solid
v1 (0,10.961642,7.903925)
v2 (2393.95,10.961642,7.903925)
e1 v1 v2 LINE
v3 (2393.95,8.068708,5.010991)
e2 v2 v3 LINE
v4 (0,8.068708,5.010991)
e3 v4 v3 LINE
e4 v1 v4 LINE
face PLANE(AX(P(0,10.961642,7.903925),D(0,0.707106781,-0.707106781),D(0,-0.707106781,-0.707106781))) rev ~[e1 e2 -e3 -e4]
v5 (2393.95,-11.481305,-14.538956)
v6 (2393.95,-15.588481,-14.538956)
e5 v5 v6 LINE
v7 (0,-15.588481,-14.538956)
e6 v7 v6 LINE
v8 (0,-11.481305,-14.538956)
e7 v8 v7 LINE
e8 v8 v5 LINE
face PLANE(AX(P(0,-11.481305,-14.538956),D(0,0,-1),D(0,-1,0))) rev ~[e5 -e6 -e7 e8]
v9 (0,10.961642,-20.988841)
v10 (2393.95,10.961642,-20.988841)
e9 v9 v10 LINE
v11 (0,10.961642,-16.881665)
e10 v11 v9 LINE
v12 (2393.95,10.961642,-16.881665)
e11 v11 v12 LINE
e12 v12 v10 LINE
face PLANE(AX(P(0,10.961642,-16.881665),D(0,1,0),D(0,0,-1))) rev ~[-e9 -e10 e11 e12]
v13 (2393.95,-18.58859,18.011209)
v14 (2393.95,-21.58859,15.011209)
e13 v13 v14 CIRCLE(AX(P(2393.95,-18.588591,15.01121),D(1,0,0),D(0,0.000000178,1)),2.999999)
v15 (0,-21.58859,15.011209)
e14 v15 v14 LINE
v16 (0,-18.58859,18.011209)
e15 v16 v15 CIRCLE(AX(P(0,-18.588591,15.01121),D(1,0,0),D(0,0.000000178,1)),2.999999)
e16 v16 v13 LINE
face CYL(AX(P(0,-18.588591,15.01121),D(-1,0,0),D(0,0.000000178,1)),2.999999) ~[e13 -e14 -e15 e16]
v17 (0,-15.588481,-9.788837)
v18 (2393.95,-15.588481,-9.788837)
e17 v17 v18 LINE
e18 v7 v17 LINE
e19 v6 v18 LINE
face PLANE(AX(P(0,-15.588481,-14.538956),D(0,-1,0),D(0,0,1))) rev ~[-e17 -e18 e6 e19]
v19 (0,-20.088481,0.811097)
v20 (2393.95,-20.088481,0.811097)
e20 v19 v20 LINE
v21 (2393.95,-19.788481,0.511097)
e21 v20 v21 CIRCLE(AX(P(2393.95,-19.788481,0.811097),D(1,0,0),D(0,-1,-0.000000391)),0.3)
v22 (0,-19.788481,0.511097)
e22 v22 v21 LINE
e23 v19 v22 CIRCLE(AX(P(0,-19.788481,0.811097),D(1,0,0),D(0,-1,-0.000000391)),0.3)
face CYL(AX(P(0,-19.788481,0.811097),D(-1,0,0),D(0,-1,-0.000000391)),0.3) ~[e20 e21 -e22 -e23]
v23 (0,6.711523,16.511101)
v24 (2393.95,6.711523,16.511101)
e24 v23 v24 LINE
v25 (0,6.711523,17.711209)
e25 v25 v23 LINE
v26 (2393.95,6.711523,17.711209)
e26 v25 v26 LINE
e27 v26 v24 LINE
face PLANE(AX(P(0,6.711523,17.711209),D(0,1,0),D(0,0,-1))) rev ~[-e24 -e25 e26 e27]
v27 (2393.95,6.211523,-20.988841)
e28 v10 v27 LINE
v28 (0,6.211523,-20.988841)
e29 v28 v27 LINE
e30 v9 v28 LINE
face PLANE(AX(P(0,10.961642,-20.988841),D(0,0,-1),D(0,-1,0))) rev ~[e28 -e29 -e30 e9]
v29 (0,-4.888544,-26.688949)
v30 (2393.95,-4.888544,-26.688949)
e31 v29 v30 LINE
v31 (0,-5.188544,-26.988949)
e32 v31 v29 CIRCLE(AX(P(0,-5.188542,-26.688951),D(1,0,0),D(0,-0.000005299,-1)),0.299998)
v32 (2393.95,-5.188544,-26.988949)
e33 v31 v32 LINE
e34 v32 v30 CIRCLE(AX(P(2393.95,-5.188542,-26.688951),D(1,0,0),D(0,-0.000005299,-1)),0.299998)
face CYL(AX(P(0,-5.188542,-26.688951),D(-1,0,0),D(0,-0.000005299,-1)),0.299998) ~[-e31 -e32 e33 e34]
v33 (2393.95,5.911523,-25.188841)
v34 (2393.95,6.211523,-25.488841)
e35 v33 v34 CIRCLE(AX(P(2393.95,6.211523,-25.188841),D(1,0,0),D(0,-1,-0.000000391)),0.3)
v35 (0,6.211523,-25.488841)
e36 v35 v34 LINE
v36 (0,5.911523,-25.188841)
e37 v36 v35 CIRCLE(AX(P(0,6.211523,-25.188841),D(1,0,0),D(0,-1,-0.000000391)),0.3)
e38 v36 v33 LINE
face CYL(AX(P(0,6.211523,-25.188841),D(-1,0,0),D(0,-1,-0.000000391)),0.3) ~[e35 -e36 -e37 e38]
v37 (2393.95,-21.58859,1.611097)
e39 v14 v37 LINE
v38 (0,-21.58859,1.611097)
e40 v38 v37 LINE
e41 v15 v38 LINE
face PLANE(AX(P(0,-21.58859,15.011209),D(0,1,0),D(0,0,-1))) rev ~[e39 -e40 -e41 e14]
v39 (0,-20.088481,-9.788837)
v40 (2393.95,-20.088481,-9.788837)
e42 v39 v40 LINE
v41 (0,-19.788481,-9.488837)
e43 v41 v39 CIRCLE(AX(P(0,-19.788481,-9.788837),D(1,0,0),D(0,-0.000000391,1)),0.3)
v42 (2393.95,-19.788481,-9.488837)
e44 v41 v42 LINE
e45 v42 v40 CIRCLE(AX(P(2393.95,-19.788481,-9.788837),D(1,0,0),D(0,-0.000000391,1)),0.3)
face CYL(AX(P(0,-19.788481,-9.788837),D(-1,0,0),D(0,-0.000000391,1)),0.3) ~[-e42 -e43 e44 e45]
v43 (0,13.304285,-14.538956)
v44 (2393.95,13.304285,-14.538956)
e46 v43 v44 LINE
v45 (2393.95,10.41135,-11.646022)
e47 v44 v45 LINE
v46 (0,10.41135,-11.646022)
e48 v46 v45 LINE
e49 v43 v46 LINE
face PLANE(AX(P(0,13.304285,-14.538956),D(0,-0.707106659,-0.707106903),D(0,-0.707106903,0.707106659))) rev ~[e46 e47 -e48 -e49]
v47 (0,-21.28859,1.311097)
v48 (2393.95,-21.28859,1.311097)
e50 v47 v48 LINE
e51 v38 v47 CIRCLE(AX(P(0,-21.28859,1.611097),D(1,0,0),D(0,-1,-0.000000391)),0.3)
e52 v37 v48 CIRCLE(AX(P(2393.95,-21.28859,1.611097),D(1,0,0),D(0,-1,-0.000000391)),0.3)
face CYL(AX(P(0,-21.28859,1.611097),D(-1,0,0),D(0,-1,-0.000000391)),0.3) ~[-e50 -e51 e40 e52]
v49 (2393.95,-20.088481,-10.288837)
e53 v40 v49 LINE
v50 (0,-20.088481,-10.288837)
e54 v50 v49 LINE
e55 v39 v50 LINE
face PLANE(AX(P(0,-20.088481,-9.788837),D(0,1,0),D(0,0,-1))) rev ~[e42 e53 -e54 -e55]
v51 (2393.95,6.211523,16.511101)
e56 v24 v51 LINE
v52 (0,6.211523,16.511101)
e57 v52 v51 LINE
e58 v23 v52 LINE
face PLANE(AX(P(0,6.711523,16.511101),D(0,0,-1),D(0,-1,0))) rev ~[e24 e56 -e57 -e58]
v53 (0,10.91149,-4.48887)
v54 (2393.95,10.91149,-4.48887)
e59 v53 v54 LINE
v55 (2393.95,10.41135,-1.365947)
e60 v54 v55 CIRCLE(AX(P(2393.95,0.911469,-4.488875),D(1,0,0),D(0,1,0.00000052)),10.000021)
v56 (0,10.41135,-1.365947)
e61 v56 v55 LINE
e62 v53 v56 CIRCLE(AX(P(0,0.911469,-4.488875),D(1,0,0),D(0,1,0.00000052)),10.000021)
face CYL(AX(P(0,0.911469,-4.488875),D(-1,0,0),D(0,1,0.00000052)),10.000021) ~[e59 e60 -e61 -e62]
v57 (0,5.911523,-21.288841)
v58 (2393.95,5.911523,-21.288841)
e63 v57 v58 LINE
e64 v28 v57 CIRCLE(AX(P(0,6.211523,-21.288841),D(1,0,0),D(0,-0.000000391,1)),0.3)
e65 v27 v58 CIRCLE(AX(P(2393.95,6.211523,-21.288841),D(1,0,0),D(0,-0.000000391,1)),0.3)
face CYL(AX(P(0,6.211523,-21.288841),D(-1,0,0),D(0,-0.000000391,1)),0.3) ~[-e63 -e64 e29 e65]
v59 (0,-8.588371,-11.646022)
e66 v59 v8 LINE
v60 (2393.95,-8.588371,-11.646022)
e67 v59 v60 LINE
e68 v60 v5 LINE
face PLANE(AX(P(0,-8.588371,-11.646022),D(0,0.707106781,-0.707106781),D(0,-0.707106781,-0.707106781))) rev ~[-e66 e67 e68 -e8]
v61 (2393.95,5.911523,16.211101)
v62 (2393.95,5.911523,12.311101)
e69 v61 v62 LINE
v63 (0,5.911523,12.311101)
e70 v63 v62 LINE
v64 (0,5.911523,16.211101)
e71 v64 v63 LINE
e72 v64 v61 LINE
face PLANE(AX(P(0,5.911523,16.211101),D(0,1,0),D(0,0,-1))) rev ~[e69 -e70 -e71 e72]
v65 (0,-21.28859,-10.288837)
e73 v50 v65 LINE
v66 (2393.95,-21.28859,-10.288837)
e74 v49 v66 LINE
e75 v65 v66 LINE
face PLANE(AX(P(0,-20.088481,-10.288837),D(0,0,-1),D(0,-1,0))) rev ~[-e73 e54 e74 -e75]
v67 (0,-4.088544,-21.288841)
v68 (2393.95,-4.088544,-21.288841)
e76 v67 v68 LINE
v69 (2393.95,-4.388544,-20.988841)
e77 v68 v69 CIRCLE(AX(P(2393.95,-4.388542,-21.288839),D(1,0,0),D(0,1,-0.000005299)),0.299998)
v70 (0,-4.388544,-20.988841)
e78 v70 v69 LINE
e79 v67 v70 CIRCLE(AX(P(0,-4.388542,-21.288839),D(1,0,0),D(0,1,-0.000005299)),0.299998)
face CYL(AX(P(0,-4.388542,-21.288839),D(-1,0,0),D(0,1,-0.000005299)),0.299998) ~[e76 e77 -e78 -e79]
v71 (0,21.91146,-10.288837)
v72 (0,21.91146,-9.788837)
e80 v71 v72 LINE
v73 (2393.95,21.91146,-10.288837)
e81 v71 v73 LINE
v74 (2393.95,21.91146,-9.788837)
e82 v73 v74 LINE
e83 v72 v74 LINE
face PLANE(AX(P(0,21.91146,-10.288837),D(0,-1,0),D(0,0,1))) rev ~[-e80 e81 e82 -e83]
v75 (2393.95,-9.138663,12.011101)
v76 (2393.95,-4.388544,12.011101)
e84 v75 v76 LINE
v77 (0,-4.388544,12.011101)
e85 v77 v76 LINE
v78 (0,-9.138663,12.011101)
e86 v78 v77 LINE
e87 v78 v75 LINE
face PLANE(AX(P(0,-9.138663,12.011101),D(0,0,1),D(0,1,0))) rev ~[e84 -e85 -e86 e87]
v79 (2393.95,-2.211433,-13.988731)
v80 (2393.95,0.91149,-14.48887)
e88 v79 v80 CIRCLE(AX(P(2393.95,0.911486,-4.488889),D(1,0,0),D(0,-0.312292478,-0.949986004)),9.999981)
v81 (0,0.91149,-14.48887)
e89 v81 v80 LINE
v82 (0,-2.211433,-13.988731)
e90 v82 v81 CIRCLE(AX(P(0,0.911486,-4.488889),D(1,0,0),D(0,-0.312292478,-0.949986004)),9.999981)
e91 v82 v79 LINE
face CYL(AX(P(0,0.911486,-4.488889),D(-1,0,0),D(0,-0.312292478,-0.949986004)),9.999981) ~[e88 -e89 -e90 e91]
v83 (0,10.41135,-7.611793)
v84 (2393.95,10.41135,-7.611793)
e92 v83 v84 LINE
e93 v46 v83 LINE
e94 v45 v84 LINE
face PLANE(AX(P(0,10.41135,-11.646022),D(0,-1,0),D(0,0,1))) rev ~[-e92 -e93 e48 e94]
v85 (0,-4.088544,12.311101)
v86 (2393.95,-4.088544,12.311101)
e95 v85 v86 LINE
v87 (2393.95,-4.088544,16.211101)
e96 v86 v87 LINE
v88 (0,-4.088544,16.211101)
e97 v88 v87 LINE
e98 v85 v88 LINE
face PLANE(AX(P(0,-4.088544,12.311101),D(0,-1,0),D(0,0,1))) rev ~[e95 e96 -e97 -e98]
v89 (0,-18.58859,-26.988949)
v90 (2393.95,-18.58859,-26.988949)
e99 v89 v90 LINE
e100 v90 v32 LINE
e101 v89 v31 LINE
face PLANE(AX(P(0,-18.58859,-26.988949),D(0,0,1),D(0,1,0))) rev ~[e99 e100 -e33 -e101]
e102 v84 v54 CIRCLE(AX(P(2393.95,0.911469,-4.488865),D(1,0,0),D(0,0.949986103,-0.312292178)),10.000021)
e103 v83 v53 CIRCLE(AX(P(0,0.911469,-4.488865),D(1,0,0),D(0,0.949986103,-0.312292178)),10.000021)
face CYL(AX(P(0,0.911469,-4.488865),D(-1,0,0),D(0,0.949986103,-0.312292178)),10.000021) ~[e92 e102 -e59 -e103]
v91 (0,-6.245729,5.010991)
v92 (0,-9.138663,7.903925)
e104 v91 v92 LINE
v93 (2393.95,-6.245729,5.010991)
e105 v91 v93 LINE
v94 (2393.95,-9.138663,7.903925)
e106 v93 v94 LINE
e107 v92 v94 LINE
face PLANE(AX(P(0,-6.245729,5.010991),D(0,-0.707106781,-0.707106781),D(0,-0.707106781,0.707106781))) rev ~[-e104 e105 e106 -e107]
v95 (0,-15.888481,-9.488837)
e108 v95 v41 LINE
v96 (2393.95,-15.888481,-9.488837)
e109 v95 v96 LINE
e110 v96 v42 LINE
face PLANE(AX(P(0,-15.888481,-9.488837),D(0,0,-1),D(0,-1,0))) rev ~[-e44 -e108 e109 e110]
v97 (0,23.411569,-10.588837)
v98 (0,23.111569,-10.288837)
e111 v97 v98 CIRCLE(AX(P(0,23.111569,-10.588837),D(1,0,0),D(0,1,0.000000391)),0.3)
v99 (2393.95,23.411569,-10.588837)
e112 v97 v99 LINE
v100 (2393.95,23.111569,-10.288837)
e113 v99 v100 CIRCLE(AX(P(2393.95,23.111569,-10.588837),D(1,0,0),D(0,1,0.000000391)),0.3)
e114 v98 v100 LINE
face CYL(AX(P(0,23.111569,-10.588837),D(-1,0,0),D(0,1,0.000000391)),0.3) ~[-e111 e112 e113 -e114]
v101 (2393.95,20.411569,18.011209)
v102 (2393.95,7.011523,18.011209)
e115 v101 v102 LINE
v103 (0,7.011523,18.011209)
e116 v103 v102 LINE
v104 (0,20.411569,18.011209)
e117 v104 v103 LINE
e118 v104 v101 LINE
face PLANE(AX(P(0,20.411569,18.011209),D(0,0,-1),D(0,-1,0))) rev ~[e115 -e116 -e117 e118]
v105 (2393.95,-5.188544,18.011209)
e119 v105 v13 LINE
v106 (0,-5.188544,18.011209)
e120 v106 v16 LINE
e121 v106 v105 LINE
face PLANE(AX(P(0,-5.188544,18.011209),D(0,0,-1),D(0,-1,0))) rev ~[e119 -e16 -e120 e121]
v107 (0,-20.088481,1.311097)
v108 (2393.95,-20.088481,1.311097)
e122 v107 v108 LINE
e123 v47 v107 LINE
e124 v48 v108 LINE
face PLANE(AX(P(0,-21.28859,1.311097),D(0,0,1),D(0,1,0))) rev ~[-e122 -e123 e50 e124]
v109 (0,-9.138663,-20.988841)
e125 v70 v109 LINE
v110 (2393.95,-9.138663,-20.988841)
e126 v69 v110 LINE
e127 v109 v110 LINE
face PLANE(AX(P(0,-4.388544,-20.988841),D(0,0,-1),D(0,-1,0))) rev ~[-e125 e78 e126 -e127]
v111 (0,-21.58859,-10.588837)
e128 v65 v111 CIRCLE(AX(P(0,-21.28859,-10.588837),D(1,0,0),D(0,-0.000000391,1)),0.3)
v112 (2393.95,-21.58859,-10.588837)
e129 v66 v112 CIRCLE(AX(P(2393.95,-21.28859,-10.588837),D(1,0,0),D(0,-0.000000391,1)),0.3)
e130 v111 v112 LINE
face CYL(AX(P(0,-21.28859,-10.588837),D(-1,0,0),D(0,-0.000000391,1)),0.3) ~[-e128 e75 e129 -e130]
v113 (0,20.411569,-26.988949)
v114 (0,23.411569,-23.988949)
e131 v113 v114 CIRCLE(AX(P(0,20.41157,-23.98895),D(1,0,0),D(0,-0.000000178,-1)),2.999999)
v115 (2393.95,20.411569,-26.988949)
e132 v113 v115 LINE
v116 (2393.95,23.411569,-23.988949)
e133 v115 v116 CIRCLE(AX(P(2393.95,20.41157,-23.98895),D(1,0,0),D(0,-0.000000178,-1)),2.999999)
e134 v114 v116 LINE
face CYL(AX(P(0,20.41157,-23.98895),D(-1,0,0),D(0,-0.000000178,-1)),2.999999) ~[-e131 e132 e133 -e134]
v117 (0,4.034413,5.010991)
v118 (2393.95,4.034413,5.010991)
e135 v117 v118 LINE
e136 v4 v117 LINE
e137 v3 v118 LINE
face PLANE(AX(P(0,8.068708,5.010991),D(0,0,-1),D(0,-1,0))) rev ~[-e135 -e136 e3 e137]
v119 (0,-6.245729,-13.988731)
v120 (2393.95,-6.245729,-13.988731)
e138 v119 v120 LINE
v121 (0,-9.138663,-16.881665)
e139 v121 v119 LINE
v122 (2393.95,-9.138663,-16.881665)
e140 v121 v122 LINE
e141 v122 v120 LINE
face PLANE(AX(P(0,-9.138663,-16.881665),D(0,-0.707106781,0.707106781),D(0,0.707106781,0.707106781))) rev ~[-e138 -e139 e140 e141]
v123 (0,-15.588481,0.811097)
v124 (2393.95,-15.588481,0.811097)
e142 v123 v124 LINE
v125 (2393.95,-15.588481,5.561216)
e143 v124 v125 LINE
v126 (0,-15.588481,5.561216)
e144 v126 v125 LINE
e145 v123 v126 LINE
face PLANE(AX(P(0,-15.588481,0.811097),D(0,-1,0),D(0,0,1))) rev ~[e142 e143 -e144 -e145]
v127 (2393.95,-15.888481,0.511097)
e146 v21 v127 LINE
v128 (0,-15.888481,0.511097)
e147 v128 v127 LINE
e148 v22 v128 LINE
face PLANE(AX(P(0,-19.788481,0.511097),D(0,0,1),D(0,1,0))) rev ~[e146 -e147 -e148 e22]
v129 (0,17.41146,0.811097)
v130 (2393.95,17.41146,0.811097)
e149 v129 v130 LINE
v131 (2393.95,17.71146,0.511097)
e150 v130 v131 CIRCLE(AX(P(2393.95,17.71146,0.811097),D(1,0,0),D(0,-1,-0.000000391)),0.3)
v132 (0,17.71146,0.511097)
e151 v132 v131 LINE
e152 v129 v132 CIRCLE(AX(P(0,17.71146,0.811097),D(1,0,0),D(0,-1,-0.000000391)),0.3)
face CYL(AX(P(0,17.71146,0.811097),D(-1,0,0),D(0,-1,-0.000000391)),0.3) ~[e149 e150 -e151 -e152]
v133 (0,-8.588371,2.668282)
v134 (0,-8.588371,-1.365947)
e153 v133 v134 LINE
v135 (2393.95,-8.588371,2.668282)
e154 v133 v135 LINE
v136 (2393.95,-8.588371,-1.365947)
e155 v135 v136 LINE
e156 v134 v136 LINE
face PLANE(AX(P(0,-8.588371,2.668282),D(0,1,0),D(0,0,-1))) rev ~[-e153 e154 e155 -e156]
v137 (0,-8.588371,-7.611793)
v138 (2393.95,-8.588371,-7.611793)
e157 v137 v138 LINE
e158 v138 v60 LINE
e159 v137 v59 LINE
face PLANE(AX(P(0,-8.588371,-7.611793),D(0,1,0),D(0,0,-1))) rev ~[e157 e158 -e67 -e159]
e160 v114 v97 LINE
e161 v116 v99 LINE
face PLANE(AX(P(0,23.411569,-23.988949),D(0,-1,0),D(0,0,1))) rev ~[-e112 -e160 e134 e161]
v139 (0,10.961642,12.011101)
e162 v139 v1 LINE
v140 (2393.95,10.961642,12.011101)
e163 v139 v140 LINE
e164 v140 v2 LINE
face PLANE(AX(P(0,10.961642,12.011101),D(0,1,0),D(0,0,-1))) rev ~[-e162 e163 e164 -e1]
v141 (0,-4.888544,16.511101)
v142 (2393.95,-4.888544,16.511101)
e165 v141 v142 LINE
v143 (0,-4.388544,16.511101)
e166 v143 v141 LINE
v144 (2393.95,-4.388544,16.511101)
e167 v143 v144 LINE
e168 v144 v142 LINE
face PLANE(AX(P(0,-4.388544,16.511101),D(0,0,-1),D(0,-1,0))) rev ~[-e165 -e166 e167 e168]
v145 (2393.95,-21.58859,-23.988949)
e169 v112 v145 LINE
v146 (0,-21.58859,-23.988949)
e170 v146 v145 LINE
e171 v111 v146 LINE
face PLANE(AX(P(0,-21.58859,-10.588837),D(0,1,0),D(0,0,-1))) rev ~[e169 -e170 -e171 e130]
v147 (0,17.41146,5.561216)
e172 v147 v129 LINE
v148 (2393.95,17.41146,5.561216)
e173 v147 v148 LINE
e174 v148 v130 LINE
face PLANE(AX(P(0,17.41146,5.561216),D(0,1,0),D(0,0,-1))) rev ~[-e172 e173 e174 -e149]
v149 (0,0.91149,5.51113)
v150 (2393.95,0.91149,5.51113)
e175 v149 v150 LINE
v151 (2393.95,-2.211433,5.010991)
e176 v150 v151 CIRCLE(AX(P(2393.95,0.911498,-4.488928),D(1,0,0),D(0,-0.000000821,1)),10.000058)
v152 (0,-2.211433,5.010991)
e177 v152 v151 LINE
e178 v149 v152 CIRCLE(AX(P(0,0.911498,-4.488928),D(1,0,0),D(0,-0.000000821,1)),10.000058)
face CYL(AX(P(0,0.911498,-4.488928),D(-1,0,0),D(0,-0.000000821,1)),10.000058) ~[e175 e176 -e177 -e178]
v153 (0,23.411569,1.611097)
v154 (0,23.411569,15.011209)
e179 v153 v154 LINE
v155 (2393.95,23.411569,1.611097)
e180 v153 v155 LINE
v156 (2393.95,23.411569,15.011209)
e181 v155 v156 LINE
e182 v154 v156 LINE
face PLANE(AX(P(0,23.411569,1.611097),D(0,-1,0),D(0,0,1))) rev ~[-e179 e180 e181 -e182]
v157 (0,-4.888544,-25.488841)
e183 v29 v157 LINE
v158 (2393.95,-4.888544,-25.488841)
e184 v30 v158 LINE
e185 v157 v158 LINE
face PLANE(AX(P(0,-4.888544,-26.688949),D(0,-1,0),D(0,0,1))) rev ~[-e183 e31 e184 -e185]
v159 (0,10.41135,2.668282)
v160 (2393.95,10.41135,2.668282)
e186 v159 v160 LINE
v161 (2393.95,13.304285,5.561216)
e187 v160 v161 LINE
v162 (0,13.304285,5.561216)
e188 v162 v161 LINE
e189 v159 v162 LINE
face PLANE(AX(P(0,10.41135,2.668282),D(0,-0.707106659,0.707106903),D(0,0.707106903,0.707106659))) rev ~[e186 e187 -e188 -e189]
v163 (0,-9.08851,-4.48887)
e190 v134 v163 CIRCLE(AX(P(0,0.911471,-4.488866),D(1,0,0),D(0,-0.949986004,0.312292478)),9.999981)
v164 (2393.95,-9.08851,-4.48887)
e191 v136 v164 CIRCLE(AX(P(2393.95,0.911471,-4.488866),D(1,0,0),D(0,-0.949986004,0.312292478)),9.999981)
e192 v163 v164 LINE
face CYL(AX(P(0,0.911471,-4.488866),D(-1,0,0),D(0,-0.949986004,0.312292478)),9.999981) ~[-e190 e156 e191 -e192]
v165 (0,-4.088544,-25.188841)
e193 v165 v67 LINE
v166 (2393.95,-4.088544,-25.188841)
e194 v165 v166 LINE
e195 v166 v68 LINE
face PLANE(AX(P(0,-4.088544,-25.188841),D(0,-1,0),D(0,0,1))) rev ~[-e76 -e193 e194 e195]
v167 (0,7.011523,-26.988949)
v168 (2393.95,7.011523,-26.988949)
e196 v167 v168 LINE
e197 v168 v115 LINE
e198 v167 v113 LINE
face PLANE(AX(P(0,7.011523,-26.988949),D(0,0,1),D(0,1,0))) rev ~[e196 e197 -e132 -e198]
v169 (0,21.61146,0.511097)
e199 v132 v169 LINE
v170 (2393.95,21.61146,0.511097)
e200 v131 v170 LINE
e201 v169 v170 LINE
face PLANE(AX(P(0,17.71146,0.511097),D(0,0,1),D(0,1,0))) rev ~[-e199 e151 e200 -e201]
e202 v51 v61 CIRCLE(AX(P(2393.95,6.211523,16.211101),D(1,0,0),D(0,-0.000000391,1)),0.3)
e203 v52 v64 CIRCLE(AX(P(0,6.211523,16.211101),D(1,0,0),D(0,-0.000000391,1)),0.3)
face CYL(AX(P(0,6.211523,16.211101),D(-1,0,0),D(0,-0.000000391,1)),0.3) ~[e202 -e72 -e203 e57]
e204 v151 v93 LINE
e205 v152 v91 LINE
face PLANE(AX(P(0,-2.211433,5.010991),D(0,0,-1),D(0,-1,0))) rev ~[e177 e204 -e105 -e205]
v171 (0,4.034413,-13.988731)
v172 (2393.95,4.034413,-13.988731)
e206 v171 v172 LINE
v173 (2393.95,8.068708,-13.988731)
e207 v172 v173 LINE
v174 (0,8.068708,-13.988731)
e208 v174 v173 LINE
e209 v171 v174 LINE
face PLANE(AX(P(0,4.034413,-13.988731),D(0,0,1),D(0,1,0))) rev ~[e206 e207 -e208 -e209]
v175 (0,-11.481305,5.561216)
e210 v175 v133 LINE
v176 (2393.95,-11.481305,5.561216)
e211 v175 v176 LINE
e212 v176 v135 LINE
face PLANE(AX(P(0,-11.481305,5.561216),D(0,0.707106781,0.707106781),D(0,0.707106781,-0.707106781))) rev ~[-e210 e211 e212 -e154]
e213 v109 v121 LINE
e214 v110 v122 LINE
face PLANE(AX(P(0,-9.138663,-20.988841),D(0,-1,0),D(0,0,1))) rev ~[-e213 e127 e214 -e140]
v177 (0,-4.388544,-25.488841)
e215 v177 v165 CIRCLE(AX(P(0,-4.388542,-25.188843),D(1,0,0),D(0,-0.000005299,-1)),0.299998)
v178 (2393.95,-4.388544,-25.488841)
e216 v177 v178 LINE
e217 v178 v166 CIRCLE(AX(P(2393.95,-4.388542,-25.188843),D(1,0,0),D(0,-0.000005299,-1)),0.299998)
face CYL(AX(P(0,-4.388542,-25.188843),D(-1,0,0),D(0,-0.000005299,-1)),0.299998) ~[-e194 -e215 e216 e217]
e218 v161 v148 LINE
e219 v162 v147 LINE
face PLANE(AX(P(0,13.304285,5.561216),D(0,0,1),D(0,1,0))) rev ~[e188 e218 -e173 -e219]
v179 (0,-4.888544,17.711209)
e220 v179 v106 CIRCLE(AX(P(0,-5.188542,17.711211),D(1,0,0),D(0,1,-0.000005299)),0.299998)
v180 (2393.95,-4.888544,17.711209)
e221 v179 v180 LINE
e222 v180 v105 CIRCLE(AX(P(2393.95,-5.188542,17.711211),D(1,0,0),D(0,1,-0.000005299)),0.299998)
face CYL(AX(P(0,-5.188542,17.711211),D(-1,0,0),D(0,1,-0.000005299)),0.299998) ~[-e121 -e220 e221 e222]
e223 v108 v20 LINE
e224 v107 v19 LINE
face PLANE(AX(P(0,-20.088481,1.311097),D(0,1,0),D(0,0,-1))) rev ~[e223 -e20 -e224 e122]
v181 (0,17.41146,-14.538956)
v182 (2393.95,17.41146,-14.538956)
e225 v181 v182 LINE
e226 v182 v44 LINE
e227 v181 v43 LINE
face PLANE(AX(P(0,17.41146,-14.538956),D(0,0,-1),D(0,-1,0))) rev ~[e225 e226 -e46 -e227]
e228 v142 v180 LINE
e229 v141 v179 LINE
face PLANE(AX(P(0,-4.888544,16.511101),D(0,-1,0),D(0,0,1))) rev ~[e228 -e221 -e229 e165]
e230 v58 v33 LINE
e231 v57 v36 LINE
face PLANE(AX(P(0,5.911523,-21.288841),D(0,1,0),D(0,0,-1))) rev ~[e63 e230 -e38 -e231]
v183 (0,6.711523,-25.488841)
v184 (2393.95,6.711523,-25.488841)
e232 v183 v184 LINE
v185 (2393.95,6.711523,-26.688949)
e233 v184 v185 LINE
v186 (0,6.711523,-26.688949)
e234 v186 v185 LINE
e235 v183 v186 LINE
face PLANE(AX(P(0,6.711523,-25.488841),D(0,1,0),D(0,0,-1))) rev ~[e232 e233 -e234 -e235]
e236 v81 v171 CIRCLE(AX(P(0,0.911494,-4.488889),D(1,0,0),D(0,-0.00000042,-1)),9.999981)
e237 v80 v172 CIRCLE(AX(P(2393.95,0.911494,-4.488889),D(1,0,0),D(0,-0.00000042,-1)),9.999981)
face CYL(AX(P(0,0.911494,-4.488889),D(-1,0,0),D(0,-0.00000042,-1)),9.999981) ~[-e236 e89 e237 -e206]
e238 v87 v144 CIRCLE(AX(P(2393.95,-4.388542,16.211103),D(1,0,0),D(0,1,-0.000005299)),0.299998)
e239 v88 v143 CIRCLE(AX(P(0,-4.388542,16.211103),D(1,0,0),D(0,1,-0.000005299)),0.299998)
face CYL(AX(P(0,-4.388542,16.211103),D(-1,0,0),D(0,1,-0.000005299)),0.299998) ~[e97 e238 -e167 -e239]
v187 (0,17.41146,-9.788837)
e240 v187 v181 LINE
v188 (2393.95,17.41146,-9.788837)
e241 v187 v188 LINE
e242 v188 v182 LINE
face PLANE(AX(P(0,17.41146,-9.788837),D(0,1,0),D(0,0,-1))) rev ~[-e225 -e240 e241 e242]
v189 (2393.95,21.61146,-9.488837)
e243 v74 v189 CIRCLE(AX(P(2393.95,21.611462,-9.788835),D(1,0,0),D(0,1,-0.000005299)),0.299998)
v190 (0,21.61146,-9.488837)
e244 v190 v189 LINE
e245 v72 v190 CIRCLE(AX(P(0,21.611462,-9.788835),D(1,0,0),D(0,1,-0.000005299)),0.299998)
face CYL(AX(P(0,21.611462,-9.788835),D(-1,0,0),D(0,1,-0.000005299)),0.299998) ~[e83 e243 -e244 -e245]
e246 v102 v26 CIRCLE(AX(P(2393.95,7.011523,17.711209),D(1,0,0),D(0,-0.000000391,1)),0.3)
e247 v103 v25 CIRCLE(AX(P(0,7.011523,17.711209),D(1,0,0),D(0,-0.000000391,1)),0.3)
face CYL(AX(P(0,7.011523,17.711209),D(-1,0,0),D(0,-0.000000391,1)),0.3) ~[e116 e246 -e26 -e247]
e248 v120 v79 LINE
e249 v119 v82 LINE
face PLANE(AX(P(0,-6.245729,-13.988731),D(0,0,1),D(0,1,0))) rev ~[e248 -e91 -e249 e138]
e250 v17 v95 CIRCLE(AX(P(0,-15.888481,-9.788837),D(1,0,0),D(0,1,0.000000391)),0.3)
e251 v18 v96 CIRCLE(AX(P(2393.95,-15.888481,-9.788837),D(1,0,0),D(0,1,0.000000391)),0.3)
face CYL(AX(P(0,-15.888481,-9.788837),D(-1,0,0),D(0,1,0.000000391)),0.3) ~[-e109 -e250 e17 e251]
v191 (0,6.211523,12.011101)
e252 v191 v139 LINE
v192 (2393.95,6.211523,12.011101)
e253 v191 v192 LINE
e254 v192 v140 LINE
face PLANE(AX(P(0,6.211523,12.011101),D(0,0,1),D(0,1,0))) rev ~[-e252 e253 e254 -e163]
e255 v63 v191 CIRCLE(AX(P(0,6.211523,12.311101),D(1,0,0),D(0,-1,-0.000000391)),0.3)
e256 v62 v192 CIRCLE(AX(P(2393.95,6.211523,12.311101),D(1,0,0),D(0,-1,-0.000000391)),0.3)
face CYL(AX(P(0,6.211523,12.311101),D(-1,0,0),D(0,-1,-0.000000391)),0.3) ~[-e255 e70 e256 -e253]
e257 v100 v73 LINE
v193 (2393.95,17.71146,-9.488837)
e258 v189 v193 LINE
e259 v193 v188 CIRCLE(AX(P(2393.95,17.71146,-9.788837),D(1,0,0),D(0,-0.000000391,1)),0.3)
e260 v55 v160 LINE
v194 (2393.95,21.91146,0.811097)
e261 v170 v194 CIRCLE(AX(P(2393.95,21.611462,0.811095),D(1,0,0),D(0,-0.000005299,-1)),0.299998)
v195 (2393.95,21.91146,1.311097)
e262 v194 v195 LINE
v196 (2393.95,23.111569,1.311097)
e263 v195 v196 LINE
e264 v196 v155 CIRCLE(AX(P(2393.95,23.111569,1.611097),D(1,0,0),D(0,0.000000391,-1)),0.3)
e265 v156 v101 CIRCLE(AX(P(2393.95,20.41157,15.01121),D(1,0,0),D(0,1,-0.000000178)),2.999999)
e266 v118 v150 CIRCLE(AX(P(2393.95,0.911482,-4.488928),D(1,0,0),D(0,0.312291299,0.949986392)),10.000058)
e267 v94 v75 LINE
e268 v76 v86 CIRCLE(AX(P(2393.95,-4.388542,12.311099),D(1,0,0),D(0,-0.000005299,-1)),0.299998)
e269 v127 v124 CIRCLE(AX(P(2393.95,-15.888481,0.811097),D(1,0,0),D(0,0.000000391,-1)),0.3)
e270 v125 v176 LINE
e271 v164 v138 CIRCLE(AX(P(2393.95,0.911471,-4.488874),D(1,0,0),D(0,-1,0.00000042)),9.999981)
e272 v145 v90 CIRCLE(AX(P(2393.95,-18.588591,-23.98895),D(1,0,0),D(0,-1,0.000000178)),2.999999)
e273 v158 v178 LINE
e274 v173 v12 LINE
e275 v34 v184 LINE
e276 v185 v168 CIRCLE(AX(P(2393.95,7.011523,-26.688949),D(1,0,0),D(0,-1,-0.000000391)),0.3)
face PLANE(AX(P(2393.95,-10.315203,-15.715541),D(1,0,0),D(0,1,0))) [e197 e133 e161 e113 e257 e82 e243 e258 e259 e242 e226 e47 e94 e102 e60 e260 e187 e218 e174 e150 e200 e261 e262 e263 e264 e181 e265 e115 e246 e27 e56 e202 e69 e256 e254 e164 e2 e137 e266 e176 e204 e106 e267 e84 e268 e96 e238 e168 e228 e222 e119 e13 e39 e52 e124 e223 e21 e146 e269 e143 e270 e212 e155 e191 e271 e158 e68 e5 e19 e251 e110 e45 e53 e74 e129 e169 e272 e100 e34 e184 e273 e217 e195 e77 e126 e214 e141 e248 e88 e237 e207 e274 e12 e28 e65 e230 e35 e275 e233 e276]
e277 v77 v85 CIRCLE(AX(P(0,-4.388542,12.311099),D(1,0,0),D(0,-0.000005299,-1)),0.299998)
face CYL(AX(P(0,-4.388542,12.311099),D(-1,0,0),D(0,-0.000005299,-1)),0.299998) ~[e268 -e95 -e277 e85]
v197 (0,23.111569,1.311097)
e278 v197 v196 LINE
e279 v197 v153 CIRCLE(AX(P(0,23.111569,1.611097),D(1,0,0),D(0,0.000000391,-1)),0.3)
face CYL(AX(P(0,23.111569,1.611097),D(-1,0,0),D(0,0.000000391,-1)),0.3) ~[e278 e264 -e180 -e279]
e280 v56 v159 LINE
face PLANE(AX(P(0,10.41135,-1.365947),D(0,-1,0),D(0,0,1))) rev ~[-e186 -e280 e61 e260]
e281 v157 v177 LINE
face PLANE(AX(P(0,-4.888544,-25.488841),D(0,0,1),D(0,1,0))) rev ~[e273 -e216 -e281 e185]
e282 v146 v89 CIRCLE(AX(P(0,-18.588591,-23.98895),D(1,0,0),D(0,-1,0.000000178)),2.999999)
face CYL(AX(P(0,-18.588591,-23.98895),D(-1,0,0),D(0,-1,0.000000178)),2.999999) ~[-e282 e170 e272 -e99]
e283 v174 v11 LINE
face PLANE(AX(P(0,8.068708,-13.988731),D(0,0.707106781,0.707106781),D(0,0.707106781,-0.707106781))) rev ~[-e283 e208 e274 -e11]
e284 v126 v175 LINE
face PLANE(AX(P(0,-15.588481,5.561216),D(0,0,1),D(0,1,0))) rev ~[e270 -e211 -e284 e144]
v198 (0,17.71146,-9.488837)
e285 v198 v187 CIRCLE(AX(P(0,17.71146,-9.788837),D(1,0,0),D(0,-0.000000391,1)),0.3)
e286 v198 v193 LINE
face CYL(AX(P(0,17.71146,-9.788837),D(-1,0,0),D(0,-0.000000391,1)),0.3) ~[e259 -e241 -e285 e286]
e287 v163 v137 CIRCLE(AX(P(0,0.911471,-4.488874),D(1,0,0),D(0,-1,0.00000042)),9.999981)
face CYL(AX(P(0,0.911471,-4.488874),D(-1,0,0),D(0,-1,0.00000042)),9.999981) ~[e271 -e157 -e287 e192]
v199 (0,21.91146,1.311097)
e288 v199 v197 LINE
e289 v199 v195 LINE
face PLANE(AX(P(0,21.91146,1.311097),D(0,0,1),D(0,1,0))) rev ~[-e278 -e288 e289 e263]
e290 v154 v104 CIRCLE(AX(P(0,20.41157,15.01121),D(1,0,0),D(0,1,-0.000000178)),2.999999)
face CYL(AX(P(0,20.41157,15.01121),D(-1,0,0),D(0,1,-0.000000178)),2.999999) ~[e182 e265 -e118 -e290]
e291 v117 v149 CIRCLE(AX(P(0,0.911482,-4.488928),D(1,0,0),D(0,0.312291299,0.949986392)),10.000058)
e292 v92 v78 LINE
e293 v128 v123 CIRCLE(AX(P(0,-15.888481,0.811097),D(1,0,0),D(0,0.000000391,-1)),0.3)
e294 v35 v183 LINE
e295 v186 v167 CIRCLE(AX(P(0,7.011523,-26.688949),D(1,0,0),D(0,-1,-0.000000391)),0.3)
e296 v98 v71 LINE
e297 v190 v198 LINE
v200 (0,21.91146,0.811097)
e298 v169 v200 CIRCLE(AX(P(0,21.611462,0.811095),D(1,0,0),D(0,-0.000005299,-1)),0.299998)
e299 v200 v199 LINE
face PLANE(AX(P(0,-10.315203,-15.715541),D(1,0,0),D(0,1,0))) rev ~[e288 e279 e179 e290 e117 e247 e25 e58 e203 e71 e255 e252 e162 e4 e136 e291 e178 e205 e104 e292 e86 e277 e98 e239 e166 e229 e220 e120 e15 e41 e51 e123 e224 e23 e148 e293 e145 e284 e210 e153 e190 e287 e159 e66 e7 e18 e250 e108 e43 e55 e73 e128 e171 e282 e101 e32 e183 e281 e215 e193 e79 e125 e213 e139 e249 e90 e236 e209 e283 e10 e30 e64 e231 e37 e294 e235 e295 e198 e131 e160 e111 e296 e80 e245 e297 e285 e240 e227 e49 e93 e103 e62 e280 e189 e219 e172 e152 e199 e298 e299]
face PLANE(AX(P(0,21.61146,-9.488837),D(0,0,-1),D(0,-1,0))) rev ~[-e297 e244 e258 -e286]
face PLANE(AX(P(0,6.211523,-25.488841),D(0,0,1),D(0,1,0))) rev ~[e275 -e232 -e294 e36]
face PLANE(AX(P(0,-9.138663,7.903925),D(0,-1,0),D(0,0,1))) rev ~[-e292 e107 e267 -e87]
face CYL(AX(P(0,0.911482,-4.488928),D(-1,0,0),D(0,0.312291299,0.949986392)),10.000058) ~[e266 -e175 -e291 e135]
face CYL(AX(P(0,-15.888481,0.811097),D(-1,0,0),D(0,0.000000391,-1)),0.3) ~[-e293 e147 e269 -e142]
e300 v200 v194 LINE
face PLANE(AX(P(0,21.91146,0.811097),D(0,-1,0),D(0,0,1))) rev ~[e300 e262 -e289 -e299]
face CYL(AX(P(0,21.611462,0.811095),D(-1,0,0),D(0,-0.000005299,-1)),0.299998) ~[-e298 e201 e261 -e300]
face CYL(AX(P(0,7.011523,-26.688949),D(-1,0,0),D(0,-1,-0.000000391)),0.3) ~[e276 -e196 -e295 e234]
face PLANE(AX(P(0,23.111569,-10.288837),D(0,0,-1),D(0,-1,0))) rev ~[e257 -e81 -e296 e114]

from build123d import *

# Parameters (mm, degrees)
F1_DEPTH = 2393.95


with BuildPart() as f1:
    # F0 (on Right) → F1 (new body)
    with BuildSketch(Plane.YZ):
        with BuildLine():
            Line((-20.088481, -9.788837), (-20.088481, -10.288837))
            Line((-20.088481, -10.288837), (-21.28859, -10.288837))
            ThreePointArc((-21.28859, -10.288837), (-21.500722, -10.376705), (-21.58859, -10.588837))
            Line((-21.58859, -10.588837), (-21.58859, -23.988949))
            ThreePointArc((-21.58859, -23.988949), (-20.70991, -26.11027), (-18.58859, -26.988949))
            Line((-18.58859, -26.988949), (-5.188544, -26.988949))
            ThreePointArc((-5.188544, -26.988949), (-4.976411, -26.901081), (-4.888544, -26.688949))
            Line((-4.888544, -26.688949), (-4.888544, -25.488841))
            Line((-4.888544, -25.488841), (-4.388544, -25.488841))
            ThreePointArc((-4.388544, -25.488841), (-4.176411, -25.400973), (-4.088544, -25.188841))
            Line((-4.088544, -25.188841), (-4.088544, -21.288841))
            ThreePointArc((-4.088544, -21.288841), (-4.176411, -21.076709), (-4.388544, -20.988841))
            Line((-4.388544, -20.988841), (-9.138663, -20.988841))
            Line((-9.138663, -20.988841), (-9.138663, -16.881665))
            Line((-9.138663, -16.881665), (-6.245729, -13.988731))
            Line((-6.245729, -13.988731), (-2.211433, -13.988731))
            ThreePointArc((-2.211433, -13.988731), (-0.669869, -14.363044), (0.91149, -14.48887))
            Line((0.91149, -14.48887), (0.91149, -4.48887))
            Line((0.91149, -4.48887), (-9.08851, -4.48887))
            ThreePointArc((-9.08851, -4.48887), (-8.962684, -6.070229), (-8.588371, -7.611793))
            Line((-8.588371, -7.611793), (-8.588371, -11.646022))
            Line((-8.588371, -11.646022), (-11.481305, -14.538956))
            Line((-11.481305, -14.538956), (-15.588481, -14.538956))
            Line((-15.588481, -14.538956), (-15.588481, -9.788837))
            ThreePointArc((-15.588481, -9.788837), (-15.676349, -9.576705), (-15.888481, -9.488837))
            Line((-15.888481, -9.488837), (-19.788481, -9.488837))
            ThreePointArc((-19.788481, -9.488837), (-20.000613, -9.576705), (-20.088481, -9.788837))
        make_face()
        with BuildLine():
            ThreePointArc((-8.588371, -1.365947), (-8.962684, -2.907511), (-9.08851, -4.48887))
            Line((-9.08851, -4.48887), (0.91149, -4.48887))
            Line((0.91149, -4.48887), (0.91149, 5.51113))
            ThreePointArc((0.91149, 5.51113), (-0.669869, 5.385303), (-2.211433, 5.010991))
            Line((-2.211433, 5.010991), (-6.245729, 5.010991))
            Line((-6.245729, 5.010991), (-9.138663, 7.903925))
            Line((-9.138663, 7.903925), (-9.138663, 12.011101))
            Line((-9.138663, 12.011101), (-4.388544, 12.011101))
            ThreePointArc((-4.388544, 12.011101), (-4.176411, 12.098969), (-4.088544, 12.311101))
            Line((-4.088544, 12.311101), (-4.088544, 16.211101))
            ThreePointArc((-4.088544, 16.211101), (-4.176411, 16.423233), (-4.388544, 16.511101))
            Line((-4.388544, 16.511101), (-4.888544, 16.511101))
            Line((-4.888544, 16.511101), (-4.888544, 17.711209))
            ThreePointArc((-4.888544, 17.711209), (-4.976411, 17.923341), (-5.188544, 18.011209))
            Line((-5.188544, 18.011209), (-18.58859, 18.011209))
            ThreePointArc((-18.58859, 18.011209), (-20.70991, 17.13253), (-21.58859, 15.011209))
            Line((-21.58859, 15.011209), (-21.58859, 1.611097))
            ThreePointArc((-21.58859, 1.611097), (-21.500722, 1.398965), (-21.28859, 1.311097))
            Line((-21.28859, 1.311097), (-20.088481, 1.311097))
            Line((-20.088481, 1.311097), (-20.088481, 0.811097))
            ThreePointArc((-20.088481, 0.811097), (-20.000613, 0.598965), (-19.788481, 0.511097))
            Line((-19.788481, 0.511097), (-15.888481, 0.511097))
            ThreePointArc((-15.888481, 0.511097), (-15.676349, 0.598965), (-15.588481, 0.811097))
            Line((-15.588481, 0.811097), (-15.588481, 5.561216))
            Line((-15.588481, 5.561216), (-11.481305, 5.561216))
            Line((-11.481305, 5.561216), (-8.588371, 2.668282))
            Line((-8.588371, 2.668282), (-8.588371, -1.365947))
        make_face()
        with BuildLine():
            Line((0.91149, 5.51113), (0.91149, -4.48887))
            Line((0.91149, -4.48887), (10.91149, -4.48887))
            ThreePointArc((10.91149, -4.48887), (10.785663, -2.907511), (10.41135, -1.365947))
            Line((10.41135, -1.365947), (10.41135, 2.668282))
            Line((10.41135, 2.668282), (13.304285, 5.561216))
            Line((13.304285, 5.561216), (14.016842, 5.561216))
            Line((14.016842, 5.561216), (17.41146, 5.561216))
            Line((17.41146, 5.561216), (17.41146, 0.811097))
            ThreePointArc((17.41146, 0.811097), (17.499328, 0.598965), (17.71146, 0.511097))
            Line((17.71146, 0.511097), (21.61146, 0.511097))
            ThreePointArc((21.61146, 0.511097), (21.823593, 0.598965), (21.91146, 0.811097))
            Line((21.91146, 0.811097), (21.91146, 1.311097))
            Line((21.91146, 1.311097), (23.111569, 1.311097))
            ThreePointArc((23.111569, 1.311097), (23.323701, 1.398965), (23.411569, 1.611097))
            Line((23.411569, 1.611097), (23.411569, 15.011209))
            ThreePointArc((23.411569, 15.011209), (22.532889, 17.13253), (20.411569, 18.011209))
            Line((20.411569, 18.011209), (7.011523, 18.011209))
            ThreePointArc((7.011523, 18.011209), (6.799391, 17.923341), (6.711523, 17.711209))
            Line((6.711523, 17.711209), (6.711523, 16.511101))
            Line((6.711523, 16.511101), (6.211523, 16.511101))
            ThreePointArc((6.211523, 16.511101), (5.999391, 16.423233), (5.911523, 16.211101))
            Line((5.911523, 16.211101), (5.911523, 12.311101))
            ThreePointArc((5.911523, 12.311101), (5.999391, 12.098969), (6.211523, 12.011101))
            Line((6.211523, 12.011101), (10.961642, 12.011101))
            Line((10.961642, 12.011101), (10.961642, 7.903925))
            Line((10.961642, 7.903925), (8.068708, 5.010991))
            Line((8.068708, 5.010991), (4.034413, 5.010991))
            ThreePointArc((4.034413, 5.010991), (2.492849, 5.385303), (0.91149, 5.51113))
        make_face()
        with BuildLine():
            Line((10.91149, -4.48887), (0.91149, -4.48887))
            Line((0.91149, -4.48887), (0.91149, -14.48887))
            ThreePointArc((0.91149, -14.48887), (2.492849, -14.363044), (4.034413, -13.988731))
            Line((4.034413, -13.988731), (8.068708, -13.988731))
            Line((8.068708, -13.988731), (10.961642, -16.881665))
            Line((10.961642, -16.881665), (10.961642, -20.988841))
            Line((10.961642, -20.988841), (6.211523, -20.988841))
            ThreePointArc((6.211523, -20.988841), (5.999391, -21.076709), (5.911523, -21.288841))
            Line((5.911523, -21.288841), (5.911523, -25.188841))
            ThreePointArc((5.911523, -25.188841), (5.999391, -25.400973), (6.211523, -25.488841))
            Line((6.211523, -25.488841), (6.711523, -25.488841))
            Line((6.711523, -25.488841), (6.711523, -26.688949))
            ThreePointArc((6.711523, -26.688949), (6.799391, -26.901081), (7.011523, -26.988949))
            Line((7.011523, -26.988949), (20.411569, -26.988949))
            ThreePointArc((20.411569, -26.988949), (22.532889, -26.11027), (23.411569, -23.988949))
            Line((23.411569, -23.988949), (23.411569, -10.588837))
            ThreePointArc((23.411569, -10.588837), (23.323701, -10.376705), (23.111569, -10.288837))
            Line((23.111569, -10.288837), (21.91146, -10.288837))
            Line((21.91146, -10.288837), (21.91146, -9.788837))
            ThreePointArc((21.91146, -9.788837), (21.823593, -9.576705), (21.61146, -9.488837))
            Line((21.61146, -9.488837), (17.71146, -9.488837))
            ThreePointArc((17.71146, -9.488837), (17.499328, -9.576705), (17.41146, -9.788837))
            Line((17.41146, -9.788837), (17.41146, -14.538956))
            Line((17.41146, -14.538956), (13.304285, -14.538956))
            Line((13.304285, -14.538956), (10.41135, -11.646022))
            Line((10.41135, -11.646022), (10.41135, -7.611793))
            ThreePointArc((10.41135, -7.611793), (10.785663, -6.070229), (10.91149, -4.48887))
        make_face()
    extrude(amount=F1_DEPTH)


solid = f1.part
